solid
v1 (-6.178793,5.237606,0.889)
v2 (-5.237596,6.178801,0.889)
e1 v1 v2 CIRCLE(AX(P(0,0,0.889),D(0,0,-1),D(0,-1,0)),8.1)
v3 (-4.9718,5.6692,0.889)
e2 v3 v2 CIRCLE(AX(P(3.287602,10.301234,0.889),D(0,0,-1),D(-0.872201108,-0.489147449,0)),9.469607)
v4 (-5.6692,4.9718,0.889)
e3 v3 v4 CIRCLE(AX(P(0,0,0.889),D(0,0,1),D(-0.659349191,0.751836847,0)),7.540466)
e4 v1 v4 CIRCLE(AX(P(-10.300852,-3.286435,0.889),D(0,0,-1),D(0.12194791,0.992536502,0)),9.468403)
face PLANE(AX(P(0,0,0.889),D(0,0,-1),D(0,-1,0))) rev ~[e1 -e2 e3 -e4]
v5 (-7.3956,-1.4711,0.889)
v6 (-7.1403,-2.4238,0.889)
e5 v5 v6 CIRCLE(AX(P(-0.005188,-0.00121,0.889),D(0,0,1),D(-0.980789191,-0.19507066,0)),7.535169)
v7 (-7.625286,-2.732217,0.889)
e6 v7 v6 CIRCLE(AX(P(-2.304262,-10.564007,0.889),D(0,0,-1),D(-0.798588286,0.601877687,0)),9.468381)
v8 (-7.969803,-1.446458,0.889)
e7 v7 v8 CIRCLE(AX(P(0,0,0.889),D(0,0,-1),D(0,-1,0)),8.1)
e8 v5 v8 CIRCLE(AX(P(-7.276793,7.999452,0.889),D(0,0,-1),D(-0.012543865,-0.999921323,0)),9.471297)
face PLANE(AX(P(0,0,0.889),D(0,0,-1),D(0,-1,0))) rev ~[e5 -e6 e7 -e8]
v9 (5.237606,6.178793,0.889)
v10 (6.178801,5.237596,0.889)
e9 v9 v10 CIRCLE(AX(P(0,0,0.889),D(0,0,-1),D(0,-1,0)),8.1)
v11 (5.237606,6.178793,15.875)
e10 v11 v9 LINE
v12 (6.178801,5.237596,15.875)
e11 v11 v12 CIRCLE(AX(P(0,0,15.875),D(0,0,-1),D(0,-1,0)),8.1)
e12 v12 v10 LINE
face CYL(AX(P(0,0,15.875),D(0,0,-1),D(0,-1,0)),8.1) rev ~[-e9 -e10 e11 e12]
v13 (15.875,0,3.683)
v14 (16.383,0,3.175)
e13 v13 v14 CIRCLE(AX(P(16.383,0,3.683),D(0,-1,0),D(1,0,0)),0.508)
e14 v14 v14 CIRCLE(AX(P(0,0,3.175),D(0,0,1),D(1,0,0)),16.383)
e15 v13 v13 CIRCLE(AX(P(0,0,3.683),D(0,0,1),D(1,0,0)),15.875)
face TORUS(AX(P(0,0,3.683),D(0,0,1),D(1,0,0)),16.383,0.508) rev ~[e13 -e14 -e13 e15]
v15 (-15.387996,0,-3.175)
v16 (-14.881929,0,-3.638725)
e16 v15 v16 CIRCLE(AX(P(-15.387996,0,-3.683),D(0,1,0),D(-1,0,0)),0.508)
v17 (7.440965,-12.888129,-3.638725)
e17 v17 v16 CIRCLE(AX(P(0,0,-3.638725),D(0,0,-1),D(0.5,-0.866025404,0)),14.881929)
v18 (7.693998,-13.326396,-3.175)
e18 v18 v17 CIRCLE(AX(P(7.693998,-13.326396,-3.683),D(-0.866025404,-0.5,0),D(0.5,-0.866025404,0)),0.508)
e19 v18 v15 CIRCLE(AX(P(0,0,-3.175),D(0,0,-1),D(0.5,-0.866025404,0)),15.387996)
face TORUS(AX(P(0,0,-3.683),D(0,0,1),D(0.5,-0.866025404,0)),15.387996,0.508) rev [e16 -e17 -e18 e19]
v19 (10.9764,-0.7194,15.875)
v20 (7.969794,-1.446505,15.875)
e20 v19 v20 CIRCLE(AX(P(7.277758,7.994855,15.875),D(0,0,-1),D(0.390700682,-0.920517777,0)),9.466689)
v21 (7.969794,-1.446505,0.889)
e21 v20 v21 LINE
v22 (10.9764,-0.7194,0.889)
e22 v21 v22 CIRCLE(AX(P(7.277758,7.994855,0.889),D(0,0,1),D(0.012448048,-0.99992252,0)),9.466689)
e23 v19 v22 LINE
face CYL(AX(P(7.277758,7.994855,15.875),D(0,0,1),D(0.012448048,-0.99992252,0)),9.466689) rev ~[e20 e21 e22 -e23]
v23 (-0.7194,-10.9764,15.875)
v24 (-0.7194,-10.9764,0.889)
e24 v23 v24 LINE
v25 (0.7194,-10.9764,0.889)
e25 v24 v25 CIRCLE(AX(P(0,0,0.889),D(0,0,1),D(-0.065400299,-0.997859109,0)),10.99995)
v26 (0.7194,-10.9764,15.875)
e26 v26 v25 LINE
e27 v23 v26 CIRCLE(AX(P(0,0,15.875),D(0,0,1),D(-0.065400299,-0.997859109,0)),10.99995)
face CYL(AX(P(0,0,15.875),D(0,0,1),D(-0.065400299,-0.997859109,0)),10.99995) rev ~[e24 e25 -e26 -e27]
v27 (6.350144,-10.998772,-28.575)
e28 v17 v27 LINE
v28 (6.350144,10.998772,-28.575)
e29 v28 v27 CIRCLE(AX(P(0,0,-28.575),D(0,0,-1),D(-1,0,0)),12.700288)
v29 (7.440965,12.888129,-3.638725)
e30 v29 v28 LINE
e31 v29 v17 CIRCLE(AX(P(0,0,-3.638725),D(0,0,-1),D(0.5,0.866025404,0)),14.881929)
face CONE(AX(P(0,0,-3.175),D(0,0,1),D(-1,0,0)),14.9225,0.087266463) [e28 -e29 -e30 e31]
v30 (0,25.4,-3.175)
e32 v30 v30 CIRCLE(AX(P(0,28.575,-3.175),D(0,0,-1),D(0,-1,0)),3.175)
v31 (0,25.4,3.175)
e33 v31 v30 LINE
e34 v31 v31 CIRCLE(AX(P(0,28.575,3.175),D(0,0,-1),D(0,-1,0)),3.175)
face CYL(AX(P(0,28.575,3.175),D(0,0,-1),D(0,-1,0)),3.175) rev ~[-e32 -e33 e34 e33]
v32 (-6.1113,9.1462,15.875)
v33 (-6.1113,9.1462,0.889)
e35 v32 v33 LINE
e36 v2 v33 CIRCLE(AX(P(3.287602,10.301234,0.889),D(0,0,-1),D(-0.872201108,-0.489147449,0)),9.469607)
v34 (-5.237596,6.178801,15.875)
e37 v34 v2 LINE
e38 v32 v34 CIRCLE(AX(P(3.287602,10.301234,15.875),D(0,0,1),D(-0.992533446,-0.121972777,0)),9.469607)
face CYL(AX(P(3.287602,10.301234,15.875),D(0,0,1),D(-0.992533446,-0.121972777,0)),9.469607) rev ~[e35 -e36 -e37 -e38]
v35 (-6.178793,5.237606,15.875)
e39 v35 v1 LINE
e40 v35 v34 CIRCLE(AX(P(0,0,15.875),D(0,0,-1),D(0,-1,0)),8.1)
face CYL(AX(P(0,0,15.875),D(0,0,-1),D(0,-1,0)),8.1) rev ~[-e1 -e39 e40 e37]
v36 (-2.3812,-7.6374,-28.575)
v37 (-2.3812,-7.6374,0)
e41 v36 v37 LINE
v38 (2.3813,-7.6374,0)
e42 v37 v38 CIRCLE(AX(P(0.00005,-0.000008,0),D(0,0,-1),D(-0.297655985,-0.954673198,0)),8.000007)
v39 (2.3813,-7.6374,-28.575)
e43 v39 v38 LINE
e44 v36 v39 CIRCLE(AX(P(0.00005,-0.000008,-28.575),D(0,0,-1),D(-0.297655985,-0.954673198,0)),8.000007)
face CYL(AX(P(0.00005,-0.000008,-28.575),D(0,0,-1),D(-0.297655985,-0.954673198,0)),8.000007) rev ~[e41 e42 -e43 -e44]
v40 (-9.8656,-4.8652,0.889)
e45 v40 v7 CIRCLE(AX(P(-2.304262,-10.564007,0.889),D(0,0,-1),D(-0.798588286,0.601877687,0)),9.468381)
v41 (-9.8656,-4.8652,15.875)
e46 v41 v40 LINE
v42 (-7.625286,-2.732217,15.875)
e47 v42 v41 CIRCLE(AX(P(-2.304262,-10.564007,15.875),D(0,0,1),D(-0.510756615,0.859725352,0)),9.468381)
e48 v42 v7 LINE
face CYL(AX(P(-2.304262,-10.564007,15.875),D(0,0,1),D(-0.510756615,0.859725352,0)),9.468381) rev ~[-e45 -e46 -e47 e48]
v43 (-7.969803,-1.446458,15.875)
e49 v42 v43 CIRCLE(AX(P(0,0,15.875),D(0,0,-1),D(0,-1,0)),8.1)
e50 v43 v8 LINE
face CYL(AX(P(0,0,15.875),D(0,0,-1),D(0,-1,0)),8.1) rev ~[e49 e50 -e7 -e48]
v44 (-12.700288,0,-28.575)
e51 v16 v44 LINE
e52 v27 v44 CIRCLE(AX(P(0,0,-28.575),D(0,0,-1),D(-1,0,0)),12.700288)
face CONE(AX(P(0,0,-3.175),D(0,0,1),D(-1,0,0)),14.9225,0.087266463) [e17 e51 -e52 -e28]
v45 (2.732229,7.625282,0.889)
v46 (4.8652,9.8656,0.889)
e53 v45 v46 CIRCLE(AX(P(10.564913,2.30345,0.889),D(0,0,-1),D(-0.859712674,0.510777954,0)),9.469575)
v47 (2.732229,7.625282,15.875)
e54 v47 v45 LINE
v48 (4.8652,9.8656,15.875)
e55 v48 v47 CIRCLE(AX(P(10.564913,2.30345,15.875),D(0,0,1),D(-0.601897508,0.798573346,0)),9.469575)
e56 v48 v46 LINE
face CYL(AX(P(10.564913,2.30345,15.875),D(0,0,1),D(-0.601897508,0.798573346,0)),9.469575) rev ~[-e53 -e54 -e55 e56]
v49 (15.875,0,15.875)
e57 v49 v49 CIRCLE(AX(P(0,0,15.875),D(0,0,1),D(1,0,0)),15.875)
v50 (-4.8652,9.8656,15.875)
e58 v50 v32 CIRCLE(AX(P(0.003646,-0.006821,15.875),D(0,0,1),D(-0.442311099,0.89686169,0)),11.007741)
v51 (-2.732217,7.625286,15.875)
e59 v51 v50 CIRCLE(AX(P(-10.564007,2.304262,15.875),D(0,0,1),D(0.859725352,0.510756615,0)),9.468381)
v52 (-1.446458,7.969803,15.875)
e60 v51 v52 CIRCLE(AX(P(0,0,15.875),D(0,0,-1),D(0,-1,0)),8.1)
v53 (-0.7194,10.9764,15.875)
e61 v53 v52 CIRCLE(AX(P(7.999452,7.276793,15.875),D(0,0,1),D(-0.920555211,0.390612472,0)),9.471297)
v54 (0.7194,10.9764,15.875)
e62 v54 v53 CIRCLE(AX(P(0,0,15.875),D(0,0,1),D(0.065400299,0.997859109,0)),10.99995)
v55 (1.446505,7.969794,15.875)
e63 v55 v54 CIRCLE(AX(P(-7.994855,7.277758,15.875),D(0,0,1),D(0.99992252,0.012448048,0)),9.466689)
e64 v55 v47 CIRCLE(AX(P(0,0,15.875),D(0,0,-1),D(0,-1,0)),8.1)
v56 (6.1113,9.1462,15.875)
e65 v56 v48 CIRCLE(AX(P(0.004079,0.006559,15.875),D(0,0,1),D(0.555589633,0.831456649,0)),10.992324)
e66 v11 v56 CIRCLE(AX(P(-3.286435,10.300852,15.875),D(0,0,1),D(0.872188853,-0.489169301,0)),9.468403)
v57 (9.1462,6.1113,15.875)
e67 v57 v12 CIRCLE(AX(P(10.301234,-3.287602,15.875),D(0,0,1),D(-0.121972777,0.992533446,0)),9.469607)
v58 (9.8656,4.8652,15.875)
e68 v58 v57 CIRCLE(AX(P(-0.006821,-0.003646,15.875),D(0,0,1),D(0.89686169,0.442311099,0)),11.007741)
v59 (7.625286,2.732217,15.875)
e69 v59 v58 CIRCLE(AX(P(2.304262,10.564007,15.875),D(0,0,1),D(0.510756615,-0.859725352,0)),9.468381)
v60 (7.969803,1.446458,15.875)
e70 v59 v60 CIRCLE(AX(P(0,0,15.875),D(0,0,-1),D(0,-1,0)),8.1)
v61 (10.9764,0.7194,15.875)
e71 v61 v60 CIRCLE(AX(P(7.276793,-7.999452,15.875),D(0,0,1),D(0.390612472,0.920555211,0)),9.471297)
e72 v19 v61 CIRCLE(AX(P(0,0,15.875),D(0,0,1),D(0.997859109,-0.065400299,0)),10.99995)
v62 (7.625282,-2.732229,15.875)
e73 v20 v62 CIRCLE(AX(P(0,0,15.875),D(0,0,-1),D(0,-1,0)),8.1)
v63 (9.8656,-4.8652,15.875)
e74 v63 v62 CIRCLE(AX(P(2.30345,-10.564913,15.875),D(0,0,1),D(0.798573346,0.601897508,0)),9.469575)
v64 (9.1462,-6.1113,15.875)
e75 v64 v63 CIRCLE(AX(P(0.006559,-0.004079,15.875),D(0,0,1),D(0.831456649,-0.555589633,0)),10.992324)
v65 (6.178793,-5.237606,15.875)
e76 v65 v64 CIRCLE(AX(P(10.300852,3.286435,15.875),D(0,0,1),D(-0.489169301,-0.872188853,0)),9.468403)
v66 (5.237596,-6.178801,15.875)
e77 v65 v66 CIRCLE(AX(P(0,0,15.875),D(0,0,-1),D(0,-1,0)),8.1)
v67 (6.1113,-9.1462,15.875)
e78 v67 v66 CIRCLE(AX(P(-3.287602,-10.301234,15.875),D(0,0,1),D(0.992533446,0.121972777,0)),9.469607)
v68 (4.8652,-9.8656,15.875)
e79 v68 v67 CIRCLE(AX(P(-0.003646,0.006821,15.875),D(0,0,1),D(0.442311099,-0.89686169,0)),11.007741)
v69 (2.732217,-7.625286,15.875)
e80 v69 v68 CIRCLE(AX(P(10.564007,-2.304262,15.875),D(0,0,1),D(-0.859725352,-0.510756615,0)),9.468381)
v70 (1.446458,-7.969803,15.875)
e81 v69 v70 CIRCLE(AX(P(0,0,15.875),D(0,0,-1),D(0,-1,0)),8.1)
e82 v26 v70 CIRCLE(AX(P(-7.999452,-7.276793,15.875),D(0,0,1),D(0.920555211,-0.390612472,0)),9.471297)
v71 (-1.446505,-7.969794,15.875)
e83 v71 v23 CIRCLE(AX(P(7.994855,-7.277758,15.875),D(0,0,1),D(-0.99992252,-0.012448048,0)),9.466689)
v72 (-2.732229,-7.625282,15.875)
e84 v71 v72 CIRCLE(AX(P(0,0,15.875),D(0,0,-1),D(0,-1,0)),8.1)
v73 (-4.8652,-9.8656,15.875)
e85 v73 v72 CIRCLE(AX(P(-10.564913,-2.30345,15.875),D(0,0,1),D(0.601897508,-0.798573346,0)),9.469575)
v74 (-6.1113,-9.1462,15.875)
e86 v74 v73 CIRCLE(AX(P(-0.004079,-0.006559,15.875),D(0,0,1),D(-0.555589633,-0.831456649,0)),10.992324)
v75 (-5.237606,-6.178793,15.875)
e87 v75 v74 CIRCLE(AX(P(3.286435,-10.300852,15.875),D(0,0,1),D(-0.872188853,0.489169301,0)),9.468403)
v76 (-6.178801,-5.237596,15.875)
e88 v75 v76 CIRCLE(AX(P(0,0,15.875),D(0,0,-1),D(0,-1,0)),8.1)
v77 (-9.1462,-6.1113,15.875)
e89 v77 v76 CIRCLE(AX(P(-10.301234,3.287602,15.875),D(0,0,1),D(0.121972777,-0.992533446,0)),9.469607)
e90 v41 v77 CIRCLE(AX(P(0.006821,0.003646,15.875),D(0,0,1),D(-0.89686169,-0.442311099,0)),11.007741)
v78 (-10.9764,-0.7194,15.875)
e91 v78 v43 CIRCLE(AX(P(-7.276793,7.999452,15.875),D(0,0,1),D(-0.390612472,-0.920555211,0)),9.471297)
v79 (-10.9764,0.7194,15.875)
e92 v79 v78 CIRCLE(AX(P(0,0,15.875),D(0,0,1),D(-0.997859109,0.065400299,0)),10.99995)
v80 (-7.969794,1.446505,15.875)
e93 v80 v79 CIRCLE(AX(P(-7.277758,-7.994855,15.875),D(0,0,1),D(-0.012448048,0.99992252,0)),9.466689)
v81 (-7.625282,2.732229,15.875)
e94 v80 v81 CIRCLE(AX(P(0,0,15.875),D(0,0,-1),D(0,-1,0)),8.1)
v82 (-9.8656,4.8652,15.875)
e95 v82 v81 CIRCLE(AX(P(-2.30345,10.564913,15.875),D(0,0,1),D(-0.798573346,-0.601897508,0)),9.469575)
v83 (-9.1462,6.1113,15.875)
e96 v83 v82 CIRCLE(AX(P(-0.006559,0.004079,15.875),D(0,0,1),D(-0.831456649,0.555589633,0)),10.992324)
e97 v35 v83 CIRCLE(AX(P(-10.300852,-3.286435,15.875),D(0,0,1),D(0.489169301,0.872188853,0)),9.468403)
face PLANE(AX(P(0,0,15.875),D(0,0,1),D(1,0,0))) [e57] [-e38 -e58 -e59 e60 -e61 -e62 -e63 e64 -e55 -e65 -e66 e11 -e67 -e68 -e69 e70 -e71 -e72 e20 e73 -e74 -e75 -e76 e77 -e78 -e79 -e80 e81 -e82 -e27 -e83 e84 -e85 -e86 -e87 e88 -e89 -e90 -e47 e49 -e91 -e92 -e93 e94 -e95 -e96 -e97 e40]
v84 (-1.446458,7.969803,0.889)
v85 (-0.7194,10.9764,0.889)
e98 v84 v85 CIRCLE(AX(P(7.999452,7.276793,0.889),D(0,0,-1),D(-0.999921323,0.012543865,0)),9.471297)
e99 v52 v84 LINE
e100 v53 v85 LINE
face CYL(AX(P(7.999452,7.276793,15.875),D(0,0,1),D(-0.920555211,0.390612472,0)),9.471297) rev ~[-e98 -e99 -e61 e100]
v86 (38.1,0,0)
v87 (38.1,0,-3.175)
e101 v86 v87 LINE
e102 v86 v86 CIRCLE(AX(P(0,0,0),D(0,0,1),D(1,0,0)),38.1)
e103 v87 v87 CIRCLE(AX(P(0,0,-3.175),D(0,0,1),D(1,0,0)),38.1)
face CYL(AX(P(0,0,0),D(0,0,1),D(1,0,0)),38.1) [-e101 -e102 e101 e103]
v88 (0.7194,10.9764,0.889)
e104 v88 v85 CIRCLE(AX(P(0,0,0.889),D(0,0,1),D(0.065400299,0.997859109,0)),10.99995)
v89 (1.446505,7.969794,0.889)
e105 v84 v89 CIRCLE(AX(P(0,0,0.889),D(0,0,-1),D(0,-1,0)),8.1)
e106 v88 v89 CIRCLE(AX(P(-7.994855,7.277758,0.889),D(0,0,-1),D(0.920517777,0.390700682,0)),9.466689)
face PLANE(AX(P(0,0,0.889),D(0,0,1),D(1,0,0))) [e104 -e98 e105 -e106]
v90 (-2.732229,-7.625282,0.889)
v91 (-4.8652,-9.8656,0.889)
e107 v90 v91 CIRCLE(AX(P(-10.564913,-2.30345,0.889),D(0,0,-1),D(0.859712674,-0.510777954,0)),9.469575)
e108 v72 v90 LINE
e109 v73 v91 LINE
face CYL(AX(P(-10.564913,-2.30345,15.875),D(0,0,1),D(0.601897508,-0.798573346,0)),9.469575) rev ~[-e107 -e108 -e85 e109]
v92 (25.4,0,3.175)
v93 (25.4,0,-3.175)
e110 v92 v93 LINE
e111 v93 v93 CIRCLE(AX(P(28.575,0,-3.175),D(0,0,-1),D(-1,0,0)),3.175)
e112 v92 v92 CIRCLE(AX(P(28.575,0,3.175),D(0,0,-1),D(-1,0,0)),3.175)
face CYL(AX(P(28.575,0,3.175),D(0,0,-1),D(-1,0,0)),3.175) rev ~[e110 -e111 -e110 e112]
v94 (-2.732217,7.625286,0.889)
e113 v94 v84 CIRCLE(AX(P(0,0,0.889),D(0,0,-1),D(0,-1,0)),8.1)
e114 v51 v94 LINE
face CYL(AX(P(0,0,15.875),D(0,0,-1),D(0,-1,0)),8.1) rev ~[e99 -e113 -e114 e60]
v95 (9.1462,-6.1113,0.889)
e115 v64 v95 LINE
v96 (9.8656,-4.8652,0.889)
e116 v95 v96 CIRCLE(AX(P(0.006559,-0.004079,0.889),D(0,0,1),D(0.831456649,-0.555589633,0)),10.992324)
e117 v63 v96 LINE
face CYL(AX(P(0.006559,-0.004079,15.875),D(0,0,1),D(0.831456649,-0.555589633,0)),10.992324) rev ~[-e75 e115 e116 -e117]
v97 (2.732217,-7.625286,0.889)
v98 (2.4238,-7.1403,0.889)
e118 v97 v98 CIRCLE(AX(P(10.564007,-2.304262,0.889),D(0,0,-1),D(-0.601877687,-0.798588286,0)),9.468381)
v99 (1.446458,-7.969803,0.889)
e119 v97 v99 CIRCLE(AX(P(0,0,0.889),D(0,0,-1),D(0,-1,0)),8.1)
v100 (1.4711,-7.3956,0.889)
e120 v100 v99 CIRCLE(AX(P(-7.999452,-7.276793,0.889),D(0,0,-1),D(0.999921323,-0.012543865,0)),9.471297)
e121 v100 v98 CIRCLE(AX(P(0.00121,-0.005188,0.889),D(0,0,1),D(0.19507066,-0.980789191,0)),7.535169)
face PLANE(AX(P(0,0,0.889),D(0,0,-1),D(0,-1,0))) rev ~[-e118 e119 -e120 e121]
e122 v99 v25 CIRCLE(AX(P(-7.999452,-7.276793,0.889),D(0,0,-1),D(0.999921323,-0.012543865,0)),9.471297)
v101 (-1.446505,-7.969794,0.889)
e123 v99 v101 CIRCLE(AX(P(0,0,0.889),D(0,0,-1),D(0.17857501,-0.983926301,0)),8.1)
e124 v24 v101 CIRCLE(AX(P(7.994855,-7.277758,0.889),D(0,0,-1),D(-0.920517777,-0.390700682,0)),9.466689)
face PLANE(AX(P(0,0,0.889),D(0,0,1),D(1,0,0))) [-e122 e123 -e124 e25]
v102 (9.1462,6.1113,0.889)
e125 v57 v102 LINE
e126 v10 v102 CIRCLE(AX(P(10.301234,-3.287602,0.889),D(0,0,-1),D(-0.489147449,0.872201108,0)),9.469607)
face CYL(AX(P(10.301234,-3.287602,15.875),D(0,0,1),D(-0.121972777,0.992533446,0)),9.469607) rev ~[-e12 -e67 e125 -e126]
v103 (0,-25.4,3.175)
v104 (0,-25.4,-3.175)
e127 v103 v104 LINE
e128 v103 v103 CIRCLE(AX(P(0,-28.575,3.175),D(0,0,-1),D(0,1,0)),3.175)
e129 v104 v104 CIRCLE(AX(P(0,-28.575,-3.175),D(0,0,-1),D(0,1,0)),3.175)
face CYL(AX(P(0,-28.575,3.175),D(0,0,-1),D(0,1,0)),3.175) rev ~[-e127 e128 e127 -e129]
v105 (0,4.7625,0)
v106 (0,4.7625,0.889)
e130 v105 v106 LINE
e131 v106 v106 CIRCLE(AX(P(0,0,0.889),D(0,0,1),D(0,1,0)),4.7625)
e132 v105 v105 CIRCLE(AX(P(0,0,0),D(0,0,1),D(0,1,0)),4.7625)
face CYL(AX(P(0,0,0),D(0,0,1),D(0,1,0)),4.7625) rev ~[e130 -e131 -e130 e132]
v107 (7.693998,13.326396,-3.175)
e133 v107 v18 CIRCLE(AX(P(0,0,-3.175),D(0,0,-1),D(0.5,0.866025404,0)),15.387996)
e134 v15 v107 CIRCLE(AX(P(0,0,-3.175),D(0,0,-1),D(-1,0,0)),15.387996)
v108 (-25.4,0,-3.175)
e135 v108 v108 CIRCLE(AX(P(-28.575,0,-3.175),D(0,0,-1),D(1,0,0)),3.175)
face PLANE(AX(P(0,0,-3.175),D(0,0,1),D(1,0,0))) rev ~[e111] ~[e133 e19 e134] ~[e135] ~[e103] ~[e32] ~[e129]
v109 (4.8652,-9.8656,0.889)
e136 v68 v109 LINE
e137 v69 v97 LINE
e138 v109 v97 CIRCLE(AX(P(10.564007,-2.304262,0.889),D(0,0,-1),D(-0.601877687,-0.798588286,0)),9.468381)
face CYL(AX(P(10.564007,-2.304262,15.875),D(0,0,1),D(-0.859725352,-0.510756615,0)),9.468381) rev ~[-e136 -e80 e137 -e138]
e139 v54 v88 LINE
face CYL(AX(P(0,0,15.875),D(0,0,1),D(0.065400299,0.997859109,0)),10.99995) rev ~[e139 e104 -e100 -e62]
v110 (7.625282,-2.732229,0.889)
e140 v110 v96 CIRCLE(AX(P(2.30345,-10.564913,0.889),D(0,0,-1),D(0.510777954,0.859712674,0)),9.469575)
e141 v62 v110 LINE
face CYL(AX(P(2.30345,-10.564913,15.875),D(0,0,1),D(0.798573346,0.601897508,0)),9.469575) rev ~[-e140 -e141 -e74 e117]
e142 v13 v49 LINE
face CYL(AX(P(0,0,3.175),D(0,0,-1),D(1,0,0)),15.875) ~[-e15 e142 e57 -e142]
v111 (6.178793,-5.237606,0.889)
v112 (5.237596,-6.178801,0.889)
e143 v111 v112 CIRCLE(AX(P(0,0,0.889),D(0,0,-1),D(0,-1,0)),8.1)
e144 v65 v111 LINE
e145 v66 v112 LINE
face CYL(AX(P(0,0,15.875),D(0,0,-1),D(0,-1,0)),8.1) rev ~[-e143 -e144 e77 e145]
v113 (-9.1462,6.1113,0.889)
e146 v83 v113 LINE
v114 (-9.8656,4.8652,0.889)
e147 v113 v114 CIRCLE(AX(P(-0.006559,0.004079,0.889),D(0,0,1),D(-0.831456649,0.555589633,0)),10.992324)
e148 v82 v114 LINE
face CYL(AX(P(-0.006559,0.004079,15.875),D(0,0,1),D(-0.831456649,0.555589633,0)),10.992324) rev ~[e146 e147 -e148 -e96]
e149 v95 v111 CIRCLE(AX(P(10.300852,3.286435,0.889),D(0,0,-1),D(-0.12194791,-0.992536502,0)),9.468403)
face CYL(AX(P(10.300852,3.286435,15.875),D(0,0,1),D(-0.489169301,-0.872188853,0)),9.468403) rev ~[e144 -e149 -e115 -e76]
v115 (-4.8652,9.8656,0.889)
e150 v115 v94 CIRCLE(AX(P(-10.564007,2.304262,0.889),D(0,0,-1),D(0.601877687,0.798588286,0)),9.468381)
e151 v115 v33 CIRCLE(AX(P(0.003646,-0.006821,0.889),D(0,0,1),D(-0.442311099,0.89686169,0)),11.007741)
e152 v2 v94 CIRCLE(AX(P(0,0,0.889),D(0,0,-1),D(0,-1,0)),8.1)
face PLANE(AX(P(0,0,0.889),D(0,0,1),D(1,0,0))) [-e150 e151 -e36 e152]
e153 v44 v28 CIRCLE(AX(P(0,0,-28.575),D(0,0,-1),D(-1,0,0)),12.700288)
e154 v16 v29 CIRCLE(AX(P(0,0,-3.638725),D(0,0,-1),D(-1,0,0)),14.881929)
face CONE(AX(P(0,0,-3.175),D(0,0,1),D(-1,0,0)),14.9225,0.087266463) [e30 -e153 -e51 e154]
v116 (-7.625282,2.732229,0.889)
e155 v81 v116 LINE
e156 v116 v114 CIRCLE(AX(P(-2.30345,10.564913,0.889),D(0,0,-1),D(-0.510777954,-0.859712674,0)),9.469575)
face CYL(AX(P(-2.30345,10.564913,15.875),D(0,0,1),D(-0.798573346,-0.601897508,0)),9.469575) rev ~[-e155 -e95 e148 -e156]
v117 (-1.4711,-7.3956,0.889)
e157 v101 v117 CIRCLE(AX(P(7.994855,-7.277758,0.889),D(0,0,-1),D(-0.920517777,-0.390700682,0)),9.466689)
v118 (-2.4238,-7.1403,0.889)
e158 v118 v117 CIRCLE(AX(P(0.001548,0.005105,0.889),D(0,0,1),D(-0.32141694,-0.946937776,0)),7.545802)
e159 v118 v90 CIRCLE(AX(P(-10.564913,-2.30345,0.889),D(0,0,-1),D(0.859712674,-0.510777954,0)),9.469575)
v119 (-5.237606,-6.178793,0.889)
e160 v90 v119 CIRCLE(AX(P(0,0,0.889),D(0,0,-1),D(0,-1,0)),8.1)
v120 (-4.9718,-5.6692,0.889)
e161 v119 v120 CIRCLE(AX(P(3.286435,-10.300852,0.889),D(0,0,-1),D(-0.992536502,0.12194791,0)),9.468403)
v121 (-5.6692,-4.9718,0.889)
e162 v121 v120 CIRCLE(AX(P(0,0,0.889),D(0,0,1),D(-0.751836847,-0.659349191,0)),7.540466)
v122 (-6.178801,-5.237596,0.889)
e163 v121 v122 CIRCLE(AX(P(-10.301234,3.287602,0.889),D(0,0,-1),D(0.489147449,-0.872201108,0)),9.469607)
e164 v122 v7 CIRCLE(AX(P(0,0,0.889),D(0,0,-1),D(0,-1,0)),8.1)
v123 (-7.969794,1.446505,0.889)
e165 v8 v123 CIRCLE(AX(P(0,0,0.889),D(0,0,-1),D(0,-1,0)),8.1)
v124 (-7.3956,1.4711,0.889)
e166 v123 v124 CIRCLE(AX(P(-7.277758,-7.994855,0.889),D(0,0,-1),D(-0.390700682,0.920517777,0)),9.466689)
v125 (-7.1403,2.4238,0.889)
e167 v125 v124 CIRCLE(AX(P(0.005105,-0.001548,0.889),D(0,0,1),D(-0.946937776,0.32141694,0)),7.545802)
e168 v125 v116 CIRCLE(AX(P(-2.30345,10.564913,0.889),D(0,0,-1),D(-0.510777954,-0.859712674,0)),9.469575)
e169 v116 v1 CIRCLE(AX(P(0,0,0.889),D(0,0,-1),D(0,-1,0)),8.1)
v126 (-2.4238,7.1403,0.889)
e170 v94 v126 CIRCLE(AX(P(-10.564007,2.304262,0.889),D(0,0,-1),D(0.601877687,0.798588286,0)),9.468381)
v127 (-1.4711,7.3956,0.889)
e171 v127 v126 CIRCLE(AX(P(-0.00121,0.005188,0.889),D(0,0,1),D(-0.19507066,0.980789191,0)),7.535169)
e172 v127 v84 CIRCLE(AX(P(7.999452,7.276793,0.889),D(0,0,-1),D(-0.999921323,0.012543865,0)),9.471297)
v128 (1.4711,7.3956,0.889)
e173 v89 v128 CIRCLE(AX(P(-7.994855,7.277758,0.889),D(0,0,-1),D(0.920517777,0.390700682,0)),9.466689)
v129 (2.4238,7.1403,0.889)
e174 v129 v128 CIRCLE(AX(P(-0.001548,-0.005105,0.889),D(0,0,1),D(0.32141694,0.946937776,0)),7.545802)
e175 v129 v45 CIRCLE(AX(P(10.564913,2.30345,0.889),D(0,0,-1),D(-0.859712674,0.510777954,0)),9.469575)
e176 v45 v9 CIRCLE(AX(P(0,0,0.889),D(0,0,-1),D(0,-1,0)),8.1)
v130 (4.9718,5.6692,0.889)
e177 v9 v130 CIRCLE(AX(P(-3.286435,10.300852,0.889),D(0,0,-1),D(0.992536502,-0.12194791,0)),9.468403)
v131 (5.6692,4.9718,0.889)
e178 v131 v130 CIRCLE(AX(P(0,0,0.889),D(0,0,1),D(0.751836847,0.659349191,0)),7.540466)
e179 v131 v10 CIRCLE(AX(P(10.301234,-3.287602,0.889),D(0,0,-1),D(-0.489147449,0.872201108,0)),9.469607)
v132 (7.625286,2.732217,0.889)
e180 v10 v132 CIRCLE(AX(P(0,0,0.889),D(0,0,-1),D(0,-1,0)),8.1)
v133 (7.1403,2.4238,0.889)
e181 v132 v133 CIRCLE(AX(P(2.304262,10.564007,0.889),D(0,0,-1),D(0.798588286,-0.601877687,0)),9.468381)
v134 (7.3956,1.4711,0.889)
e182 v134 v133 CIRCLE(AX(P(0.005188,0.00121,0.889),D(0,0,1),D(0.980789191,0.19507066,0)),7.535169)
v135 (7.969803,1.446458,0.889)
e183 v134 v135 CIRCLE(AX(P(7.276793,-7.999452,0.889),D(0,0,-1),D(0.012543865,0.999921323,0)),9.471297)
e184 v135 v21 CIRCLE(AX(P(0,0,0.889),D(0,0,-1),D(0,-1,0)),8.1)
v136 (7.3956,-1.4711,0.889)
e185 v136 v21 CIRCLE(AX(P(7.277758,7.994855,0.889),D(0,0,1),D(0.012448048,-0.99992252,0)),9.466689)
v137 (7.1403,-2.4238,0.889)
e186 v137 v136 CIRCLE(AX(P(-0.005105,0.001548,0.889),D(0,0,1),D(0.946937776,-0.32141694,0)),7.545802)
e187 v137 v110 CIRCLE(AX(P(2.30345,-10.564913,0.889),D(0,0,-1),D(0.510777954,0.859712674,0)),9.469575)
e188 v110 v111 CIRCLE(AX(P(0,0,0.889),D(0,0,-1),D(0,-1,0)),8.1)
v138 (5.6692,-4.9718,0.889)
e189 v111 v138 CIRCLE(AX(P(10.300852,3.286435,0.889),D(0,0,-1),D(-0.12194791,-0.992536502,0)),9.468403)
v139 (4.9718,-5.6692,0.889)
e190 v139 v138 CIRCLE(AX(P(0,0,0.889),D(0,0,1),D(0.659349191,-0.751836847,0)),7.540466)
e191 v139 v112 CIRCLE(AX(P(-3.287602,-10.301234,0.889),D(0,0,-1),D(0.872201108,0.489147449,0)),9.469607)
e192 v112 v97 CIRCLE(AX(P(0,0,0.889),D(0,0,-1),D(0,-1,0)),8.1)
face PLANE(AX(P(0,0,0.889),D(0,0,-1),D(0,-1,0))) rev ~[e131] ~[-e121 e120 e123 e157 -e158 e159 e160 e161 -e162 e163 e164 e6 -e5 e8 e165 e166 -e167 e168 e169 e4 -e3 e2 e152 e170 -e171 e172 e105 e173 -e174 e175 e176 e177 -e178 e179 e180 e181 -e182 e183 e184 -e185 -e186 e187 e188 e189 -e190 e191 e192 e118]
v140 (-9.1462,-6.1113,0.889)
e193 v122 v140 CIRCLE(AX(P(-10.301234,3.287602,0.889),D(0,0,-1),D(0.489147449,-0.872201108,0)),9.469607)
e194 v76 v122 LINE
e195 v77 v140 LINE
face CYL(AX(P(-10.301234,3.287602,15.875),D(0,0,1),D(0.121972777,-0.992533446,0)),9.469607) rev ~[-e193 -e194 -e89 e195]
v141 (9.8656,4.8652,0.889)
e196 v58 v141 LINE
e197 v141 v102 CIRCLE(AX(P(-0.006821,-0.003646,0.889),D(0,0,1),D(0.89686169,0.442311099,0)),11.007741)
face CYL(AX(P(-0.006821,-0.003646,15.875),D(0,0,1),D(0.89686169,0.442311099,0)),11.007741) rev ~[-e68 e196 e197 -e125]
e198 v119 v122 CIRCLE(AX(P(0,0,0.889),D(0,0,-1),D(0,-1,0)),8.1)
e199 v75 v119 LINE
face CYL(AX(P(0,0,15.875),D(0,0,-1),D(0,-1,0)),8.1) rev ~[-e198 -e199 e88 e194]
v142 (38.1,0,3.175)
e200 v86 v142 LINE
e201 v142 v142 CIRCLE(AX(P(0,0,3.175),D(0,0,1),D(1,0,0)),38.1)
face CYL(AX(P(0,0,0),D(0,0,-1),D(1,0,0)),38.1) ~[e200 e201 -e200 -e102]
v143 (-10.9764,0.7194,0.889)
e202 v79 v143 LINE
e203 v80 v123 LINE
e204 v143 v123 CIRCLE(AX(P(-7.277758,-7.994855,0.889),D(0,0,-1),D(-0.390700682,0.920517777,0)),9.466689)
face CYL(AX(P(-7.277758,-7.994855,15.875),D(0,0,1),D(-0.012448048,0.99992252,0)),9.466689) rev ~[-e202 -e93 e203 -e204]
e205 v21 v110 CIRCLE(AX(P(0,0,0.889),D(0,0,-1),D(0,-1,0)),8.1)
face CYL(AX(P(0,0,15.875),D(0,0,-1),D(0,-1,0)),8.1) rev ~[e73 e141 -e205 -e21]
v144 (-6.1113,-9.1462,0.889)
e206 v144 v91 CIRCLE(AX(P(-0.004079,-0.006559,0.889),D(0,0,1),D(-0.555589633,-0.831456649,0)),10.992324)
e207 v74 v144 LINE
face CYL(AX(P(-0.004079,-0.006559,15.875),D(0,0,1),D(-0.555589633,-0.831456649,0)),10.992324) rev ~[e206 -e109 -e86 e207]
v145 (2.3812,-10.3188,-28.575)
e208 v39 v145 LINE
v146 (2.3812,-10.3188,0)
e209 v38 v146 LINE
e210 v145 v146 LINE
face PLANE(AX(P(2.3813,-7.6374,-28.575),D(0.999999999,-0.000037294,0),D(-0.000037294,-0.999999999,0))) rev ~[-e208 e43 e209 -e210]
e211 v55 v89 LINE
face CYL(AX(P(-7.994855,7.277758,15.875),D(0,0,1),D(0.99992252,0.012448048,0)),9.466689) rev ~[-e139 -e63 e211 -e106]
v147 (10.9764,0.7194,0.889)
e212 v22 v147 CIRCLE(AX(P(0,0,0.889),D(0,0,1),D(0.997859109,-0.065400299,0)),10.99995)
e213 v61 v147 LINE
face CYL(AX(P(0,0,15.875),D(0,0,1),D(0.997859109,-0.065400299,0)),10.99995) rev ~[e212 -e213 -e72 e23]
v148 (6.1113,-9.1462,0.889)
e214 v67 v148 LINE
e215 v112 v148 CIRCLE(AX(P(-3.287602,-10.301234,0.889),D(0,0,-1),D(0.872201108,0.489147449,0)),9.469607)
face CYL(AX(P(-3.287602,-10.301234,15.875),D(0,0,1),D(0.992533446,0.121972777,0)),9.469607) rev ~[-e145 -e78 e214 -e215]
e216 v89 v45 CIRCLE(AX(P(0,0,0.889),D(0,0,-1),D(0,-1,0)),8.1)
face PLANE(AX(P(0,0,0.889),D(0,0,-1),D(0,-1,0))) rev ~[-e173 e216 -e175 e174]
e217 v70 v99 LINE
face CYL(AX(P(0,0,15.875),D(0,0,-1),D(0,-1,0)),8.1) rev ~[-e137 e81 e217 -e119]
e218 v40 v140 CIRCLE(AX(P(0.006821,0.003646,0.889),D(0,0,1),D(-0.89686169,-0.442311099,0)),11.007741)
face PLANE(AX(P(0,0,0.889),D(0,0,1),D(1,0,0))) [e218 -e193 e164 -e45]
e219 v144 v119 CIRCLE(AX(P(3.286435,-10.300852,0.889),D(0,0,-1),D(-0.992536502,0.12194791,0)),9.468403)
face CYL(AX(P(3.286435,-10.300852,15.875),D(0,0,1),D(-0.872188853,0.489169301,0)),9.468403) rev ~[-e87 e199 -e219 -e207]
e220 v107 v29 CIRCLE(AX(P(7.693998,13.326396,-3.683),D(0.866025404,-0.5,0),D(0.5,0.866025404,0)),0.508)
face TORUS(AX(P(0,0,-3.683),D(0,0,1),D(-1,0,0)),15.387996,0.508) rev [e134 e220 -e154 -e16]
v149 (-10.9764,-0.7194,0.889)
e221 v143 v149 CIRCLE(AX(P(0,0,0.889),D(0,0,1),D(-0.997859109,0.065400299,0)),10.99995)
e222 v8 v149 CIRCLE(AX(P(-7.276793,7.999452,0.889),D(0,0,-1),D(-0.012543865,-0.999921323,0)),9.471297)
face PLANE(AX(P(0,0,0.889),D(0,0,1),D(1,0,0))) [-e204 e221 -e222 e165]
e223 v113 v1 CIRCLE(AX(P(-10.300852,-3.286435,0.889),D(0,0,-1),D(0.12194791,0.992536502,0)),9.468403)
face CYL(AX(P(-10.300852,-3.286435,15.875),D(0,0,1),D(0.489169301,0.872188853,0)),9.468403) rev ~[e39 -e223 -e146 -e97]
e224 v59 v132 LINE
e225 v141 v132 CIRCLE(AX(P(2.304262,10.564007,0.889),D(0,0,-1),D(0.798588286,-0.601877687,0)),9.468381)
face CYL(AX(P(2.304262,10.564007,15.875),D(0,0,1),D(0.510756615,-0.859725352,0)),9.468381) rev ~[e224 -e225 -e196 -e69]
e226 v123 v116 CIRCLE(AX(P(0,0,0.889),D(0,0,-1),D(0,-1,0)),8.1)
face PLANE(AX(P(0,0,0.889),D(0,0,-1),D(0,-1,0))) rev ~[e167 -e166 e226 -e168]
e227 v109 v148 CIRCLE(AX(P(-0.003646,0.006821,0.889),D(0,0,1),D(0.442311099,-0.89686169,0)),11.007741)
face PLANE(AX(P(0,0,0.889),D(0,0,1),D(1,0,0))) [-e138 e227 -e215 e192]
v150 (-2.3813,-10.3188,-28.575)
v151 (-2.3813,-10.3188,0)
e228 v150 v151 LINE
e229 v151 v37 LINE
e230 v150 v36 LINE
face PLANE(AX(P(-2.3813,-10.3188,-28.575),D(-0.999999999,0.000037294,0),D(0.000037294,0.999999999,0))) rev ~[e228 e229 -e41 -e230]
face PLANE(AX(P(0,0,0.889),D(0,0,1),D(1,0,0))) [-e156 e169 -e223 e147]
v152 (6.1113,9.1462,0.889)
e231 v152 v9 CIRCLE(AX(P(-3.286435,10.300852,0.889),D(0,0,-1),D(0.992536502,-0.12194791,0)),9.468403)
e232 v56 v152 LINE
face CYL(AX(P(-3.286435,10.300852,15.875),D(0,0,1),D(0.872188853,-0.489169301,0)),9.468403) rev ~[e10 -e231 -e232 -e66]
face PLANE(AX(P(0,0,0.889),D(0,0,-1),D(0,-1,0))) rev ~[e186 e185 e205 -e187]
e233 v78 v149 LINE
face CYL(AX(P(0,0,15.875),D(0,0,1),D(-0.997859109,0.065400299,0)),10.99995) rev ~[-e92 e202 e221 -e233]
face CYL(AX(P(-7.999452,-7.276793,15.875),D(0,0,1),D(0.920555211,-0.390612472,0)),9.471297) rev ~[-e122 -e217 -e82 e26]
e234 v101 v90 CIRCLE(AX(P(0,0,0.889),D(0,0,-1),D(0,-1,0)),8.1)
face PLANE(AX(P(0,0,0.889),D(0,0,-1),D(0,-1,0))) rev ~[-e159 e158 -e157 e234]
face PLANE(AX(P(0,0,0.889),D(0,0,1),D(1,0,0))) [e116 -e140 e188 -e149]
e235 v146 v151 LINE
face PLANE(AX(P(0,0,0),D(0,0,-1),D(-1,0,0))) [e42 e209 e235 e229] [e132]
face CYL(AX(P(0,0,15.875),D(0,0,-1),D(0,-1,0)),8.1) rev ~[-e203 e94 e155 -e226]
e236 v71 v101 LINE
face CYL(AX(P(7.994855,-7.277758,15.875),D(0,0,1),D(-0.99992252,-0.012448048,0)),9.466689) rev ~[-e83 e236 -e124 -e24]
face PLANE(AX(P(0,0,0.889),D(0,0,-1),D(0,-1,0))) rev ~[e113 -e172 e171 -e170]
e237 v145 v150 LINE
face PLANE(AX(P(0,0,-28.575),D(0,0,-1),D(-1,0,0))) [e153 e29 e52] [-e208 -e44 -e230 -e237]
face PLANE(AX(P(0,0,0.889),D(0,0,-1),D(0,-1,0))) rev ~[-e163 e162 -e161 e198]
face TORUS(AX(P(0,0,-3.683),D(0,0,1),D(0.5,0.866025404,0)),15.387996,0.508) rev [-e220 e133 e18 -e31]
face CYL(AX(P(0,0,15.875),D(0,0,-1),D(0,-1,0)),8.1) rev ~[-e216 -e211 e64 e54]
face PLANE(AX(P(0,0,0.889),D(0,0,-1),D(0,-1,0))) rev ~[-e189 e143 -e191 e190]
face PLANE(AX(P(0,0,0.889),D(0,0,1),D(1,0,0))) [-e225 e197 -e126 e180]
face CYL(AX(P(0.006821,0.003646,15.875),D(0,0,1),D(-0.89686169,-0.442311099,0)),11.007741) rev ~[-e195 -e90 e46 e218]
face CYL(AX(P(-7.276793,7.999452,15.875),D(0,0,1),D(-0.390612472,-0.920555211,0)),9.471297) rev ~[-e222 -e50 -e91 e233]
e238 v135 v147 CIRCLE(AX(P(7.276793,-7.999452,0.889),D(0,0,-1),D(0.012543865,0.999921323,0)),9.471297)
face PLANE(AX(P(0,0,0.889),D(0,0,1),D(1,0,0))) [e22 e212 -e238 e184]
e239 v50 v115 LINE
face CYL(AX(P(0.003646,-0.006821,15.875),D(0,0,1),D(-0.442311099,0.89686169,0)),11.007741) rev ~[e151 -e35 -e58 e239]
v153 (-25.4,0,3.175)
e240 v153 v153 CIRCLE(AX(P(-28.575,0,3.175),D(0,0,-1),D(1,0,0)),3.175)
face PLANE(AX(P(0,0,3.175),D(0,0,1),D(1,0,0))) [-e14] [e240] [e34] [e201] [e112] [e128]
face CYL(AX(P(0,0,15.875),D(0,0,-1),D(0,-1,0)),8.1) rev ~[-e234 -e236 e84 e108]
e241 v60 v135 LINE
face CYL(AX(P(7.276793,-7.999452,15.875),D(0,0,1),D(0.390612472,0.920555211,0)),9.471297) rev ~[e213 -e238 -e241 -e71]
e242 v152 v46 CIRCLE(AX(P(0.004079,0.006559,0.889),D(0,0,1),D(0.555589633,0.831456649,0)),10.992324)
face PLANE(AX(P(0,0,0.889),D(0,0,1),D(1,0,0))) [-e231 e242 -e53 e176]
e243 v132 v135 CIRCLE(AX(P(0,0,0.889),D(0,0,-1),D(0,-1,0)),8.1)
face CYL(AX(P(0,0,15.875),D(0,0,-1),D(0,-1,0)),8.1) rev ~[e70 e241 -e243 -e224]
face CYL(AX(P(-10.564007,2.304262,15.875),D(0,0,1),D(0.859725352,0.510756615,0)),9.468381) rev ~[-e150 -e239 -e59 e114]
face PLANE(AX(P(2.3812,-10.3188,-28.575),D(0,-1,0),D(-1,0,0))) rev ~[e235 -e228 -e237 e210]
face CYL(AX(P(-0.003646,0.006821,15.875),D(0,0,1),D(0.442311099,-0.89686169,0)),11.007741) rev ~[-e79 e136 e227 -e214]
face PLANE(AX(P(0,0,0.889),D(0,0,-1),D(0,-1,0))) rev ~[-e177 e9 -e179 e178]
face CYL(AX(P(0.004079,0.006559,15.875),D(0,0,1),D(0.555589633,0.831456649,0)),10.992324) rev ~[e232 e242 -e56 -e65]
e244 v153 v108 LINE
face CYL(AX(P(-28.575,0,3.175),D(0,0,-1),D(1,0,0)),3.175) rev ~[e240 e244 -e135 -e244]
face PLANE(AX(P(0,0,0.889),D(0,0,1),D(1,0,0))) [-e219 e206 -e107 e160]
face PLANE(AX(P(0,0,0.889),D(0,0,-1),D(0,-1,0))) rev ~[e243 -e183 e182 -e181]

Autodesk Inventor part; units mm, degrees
ref_plane "YZ Plane" through (0, 0, 0) normal (1, 0, 0) x (0, 1, 0)
ref_plane "XZ Plane" through (0, 0, 0) normal (0, 1, 0) x (-1, 0, 0)
ref_plane "XY Plane" through (0, 0, 0) normal (0, 0, 1) x (1, 0, 0)
sketch "Sketch1" plane through (0, 0, 0) normal (0, 0, 1) x (1, 0, 0)
  circle A0 centre (0, 0) radius 38.1
  dimension "d2" = 76.2
extrude "Extrusion1" add sketch "Sketch1" along normal mid plane 6.35
sketch "Sketch2" plane through (0, 0, 3.175) normal (0, 0, 1) x (1, 0, 0)
  circle A0 centre (0, 0) radius 38.1 projected
  point P0 (0, 28.575)
  dimension "d3" = 0
  dimension "d4" = 28.575
hole "Mounting Hole" at (0, 28.575, 3.175) direction (0, 0, -1) diameter 6.35 end through all
pattern_circular "Circular Pattern1" count 4 over 360 about axis through (0, 0, 0) along (0, 0, 1) of "Mounting Hole"
sketch "Sketch5" plane through (0, 0, -3.175) normal (0, 0, -1) x (-1, 0, 0)
  circle A0 centre (0, 0) radius 38.1 projected
  circle A1 centre (0, 0) radius 14.9225
  dimension "d27" = 29.845
extrude "Extrusion4" add sketch "Sketch5" along normal blind 25.4 draft -5 contours A1
sketch "Sketch6" plane through (0, 0, -28.575) normal (0, 0, -1) x (-1, 0, 0)
  circle A0 centre (0, 0) radius 12.7003 projected
  arc A1 (2.3812, -7.6374) -> (-2.3813, -7.6374) centre (0, 0) ccw
  line L0 (-2.3813, -7.6374) -> (-2.3812, -10.3188)
  line L1 (-2.3812, -10.3188) -> (2.3813, -10.3188)
  line L2 (2.3813, -10.3188) -> (2.3812, -7.6374)
  dimension "d31" = 16
  dimension "d32" = 4.7625
  dimension "d33" = 10.3187
extrude "Extrusion5" cut sketch "Sketch6" against normal blind 28.575 contours L2 L1 L0 A1
sketch "Sketch7" plane through (0, 0, 0) normal (0, 0, -1) x (-1, 0, 0)
  arc A0 (2.3812, -7.6374) -> (-2.3813, -7.6374) centre (0, 0) ccw projected
  point P0 (0, 0)
hole "Hole2" at (0, 0, 0) direction (0, 0, 1) diameter 9.525 end through all
sketch "Sketch3" plane through (0, 0, 3.175) normal (0, 0, 1) x (1, 0, 0)
  circle A0 centre (0, 0) radius 38.1 projected
  circle A1 centre (0, 0) radius 15.875
  dimension "d15" = 31.75
extrude "Extrusion2" add sketch "Sketch3" along normal blind 12.7 contours A1
sketch "Sketch8" plane through (0, 0, 15.875) normal (0, 0, 1) x (1, 0, 0)
  circle A0 centre (0, 0) radius 15.875 projected
hole "Hole3" at (0, 0, 15.875) direction (0, 0, -1) diameter 16.2 depth 14.986
sketch "Sketch4" plane through (0, 0, 15.875) normal (0, 0, 1) x (1, 0, 0)
  circle A0 centre (0, 0) radius 15.875 projected
  circle A1 centre (0, 0) radius 8.1 projected
  arc A2 (-6.1113, 9.1462) -> (-4.9718, 5.6692) centre (3.287, 10.3011) ccw
  arc A3 (-4.9718, 5.6692) -> (-5.6692, 4.9718) centre (0, 0) ccw
  arc A4 (-5.6692, 4.9718) -> (-9.1462, 6.1113) centre (-10.3011, -3.287) ccw
  arc A5 (-9.1462, 6.1113) -> (-9.8656, 4.8652) centre (0, 0) ccw
  arc A6 (-9.8656, 4.8652) -> (-7.1403, 2.4238) centre (-2.3039, 10.5645) ccw
  arc A7 (-7.1403, 2.4238) -> (-7.3956, 1.4711) centre (0, 0) ccw
  arc A8 (-7.3956, 1.4711) -> (-10.9764, 0.7194) centre (-7.2775, -7.9972) ccw
  arc A9 (-10.9764, 0.7194) -> (-10.9764, -0.7194) centre (0, 0) ccw
  arc A10 (-10.9764, -0.7194) -> (-7.3956, -1.4711) centre (-7.2775, 7.9972) ccw
  arc A11 (-7.3956, -1.4711) -> (-7.1403, -2.4238) centre (0, 0) ccw
  arc A12 (-7.1403, -2.4238) -> (-9.8656, -4.8652) centre (-2.3039, -10.5645) ccw
  arc A13 (-9.8656, -4.8652) -> (-9.1462, -6.1113) centre (0, 0) ccw
  arc A14 (-9.1462, -6.1113) -> (-5.6692, -4.9718) centre (-10.3011, 3.287) ccw
  arc A15 (-5.6692, -4.9718) -> (-4.9718, -5.6692) centre (0, 0) ccw
  arc A16 (-4.9718, -5.6692) -> (-6.1113, -9.1462) centre (3.287, -10.3011) ccw
  arc A17 (-6.1113, -9.1462) -> (-4.8652, -9.8656) centre (0, 0) ccw
  arc A18 (-4.8652, -9.8656) -> (-2.4238, -7.1403) centre (-10.5645, -2.3039) ccw
  arc A19 (-2.4238, -7.1403) -> (-1.4711, -7.3956) centre (0, 0) ccw
  arc A20 (-1.4711, -7.3956) -> (-0.7194, -10.9764) centre (7.9972, -7.2775) ccw
  arc A21 (-0.7194, -10.9764) -> (0.7194, -10.9764) centre (0, 0) ccw
  arc A22 (0.7194, -10.9764) -> (1.4711, -7.3956) centre (-7.9972, -7.2775) ccw
  arc A23 (1.4711, -7.3956) -> (2.4238, -7.1403) centre (0, 0) ccw
  arc A24 (2.4238, -7.1403) -> (4.8652, -9.8656) centre (10.5645, -2.3039) ccw
  arc A25 (4.8652, -9.8656) -> (6.1113, -9.1462) centre (0, 0) ccw
  arc A26 (6.1113, -9.1462) -> (4.9718, -5.6692) centre (-3.287, -10.3011) ccw
  arc A27 (4.9718, -5.6692) -> (5.6692, -4.9718) centre (0, 0) ccw
  arc A28 (5.6692, -4.9718) -> (9.1462, -6.1113) centre (10.3011, 3.287) ccw
  arc A29 (9.1462, -6.1113) -> (9.8656, -4.8652) centre (0, 0) ccw
  arc A30 (9.8656, -4.8652) -> (7.1403, -2.4238) centre (2.3039, -10.5645) ccw
  arc A31 (7.1403, -2.4238) -> (7.3956, -1.4711) centre (0, 0) ccw
  arc A32 (7.3956, -1.4711) -> (10.9764, -0.7194) centre (7.2775, 7.9972) ccw
  arc A33 (10.9764, -0.7194) -> (10.9764, 0.7194) centre (0, 0) ccw
  arc A34 (10.9764, 0.7194) -> (7.3956, 1.4711) centre (7.2775, -7.9972) ccw
  arc A35 (7.3956, 1.4711) -> (7.1403, 2.4238) centre (0, 0) ccw
  arc A36 (7.1403, 2.4238) -> (9.8656, 4.8652) centre (2.3039, 10.5645) ccw
  arc A37 (9.8656, 4.8652) -> (9.1462, 6.1113) centre (0, 0) ccw
  arc A38 (9.1462, 6.1113) -> (5.6692, 4.9718) centre (10.3011, -3.287) ccw
  arc A39 (5.6692, 4.9718) -> (4.9718, 5.6692) centre (0, 0) ccw
  arc A40 (4.9718, 5.6692) -> (6.1113, 9.1462) centre (-3.287, 10.3011) ccw
  arc A41 (6.1113, 9.1462) -> (4.8652, 9.8656) centre (0, 0) ccw
  arc A42 (4.8652, 9.8656) -> (2.4238, 7.1403) centre (10.5645, 2.3039) ccw
  arc A43 (2.4238, 7.1403) -> (1.4711, 7.3956) centre (0, 0) ccw
  arc A44 (1.4711, 7.3956) -> (0.7194, 10.9764) centre (-7.9972, 7.2775) ccw
  arc A45 (0.7194, 10.9764) -> (-0.7194, 10.9764) centre (0, 0) ccw
  arc A46 (-0.7194, 10.9764) -> (-1.4711, 7.3956) centre (7.9972, 7.2775) ccw
  arc A47 (-1.4711, 7.3956) -> (-2.4238, 7.1403) centre (0, 0) ccw
  arc A48 (-2.4238, 7.1403) -> (-4.8652, 9.8656) centre (-10.5645, 2.3039) ccw
  arc A49 (-4.8652, 9.8656) -> (-6.1113, 9.1462) centre (0, 0) ccw
extrude "Extrusion3" cut sketch "Sketch4" against normal up to surface (14.986 mm away) contours A1 A32 A31 A30 A28 A27 A26 A24 A23 A22 A20 A19 A18 A16 A15 A14 A12 A11 A10 A8 A7 A6 A4 A3 A2 A48 A47 A46 A44 A43 A42 A40 A39 A38 A36 A35 A34 | A1 A34 A33 A32 | A1 A38 A37 A36 | A30 A29 A28 A1 | A1 A42 A41 A40 | A26 A25 A24 A1 | A1 A46 A45 A44 | A22 A21 A20 A1 | A1 A2 A49 A48 | A18 A17 A16 A1 | A1 A6 A5 A4 | A14 A13 A12 A1 | A1 A10 A9 A8
fillet "Fillet1" radius 0.508 2 edges at (14.9225, 0, -3.175) (-15.875, 0, 3.175)
properties part number "Keyang-12" material "ABS Plastic"
